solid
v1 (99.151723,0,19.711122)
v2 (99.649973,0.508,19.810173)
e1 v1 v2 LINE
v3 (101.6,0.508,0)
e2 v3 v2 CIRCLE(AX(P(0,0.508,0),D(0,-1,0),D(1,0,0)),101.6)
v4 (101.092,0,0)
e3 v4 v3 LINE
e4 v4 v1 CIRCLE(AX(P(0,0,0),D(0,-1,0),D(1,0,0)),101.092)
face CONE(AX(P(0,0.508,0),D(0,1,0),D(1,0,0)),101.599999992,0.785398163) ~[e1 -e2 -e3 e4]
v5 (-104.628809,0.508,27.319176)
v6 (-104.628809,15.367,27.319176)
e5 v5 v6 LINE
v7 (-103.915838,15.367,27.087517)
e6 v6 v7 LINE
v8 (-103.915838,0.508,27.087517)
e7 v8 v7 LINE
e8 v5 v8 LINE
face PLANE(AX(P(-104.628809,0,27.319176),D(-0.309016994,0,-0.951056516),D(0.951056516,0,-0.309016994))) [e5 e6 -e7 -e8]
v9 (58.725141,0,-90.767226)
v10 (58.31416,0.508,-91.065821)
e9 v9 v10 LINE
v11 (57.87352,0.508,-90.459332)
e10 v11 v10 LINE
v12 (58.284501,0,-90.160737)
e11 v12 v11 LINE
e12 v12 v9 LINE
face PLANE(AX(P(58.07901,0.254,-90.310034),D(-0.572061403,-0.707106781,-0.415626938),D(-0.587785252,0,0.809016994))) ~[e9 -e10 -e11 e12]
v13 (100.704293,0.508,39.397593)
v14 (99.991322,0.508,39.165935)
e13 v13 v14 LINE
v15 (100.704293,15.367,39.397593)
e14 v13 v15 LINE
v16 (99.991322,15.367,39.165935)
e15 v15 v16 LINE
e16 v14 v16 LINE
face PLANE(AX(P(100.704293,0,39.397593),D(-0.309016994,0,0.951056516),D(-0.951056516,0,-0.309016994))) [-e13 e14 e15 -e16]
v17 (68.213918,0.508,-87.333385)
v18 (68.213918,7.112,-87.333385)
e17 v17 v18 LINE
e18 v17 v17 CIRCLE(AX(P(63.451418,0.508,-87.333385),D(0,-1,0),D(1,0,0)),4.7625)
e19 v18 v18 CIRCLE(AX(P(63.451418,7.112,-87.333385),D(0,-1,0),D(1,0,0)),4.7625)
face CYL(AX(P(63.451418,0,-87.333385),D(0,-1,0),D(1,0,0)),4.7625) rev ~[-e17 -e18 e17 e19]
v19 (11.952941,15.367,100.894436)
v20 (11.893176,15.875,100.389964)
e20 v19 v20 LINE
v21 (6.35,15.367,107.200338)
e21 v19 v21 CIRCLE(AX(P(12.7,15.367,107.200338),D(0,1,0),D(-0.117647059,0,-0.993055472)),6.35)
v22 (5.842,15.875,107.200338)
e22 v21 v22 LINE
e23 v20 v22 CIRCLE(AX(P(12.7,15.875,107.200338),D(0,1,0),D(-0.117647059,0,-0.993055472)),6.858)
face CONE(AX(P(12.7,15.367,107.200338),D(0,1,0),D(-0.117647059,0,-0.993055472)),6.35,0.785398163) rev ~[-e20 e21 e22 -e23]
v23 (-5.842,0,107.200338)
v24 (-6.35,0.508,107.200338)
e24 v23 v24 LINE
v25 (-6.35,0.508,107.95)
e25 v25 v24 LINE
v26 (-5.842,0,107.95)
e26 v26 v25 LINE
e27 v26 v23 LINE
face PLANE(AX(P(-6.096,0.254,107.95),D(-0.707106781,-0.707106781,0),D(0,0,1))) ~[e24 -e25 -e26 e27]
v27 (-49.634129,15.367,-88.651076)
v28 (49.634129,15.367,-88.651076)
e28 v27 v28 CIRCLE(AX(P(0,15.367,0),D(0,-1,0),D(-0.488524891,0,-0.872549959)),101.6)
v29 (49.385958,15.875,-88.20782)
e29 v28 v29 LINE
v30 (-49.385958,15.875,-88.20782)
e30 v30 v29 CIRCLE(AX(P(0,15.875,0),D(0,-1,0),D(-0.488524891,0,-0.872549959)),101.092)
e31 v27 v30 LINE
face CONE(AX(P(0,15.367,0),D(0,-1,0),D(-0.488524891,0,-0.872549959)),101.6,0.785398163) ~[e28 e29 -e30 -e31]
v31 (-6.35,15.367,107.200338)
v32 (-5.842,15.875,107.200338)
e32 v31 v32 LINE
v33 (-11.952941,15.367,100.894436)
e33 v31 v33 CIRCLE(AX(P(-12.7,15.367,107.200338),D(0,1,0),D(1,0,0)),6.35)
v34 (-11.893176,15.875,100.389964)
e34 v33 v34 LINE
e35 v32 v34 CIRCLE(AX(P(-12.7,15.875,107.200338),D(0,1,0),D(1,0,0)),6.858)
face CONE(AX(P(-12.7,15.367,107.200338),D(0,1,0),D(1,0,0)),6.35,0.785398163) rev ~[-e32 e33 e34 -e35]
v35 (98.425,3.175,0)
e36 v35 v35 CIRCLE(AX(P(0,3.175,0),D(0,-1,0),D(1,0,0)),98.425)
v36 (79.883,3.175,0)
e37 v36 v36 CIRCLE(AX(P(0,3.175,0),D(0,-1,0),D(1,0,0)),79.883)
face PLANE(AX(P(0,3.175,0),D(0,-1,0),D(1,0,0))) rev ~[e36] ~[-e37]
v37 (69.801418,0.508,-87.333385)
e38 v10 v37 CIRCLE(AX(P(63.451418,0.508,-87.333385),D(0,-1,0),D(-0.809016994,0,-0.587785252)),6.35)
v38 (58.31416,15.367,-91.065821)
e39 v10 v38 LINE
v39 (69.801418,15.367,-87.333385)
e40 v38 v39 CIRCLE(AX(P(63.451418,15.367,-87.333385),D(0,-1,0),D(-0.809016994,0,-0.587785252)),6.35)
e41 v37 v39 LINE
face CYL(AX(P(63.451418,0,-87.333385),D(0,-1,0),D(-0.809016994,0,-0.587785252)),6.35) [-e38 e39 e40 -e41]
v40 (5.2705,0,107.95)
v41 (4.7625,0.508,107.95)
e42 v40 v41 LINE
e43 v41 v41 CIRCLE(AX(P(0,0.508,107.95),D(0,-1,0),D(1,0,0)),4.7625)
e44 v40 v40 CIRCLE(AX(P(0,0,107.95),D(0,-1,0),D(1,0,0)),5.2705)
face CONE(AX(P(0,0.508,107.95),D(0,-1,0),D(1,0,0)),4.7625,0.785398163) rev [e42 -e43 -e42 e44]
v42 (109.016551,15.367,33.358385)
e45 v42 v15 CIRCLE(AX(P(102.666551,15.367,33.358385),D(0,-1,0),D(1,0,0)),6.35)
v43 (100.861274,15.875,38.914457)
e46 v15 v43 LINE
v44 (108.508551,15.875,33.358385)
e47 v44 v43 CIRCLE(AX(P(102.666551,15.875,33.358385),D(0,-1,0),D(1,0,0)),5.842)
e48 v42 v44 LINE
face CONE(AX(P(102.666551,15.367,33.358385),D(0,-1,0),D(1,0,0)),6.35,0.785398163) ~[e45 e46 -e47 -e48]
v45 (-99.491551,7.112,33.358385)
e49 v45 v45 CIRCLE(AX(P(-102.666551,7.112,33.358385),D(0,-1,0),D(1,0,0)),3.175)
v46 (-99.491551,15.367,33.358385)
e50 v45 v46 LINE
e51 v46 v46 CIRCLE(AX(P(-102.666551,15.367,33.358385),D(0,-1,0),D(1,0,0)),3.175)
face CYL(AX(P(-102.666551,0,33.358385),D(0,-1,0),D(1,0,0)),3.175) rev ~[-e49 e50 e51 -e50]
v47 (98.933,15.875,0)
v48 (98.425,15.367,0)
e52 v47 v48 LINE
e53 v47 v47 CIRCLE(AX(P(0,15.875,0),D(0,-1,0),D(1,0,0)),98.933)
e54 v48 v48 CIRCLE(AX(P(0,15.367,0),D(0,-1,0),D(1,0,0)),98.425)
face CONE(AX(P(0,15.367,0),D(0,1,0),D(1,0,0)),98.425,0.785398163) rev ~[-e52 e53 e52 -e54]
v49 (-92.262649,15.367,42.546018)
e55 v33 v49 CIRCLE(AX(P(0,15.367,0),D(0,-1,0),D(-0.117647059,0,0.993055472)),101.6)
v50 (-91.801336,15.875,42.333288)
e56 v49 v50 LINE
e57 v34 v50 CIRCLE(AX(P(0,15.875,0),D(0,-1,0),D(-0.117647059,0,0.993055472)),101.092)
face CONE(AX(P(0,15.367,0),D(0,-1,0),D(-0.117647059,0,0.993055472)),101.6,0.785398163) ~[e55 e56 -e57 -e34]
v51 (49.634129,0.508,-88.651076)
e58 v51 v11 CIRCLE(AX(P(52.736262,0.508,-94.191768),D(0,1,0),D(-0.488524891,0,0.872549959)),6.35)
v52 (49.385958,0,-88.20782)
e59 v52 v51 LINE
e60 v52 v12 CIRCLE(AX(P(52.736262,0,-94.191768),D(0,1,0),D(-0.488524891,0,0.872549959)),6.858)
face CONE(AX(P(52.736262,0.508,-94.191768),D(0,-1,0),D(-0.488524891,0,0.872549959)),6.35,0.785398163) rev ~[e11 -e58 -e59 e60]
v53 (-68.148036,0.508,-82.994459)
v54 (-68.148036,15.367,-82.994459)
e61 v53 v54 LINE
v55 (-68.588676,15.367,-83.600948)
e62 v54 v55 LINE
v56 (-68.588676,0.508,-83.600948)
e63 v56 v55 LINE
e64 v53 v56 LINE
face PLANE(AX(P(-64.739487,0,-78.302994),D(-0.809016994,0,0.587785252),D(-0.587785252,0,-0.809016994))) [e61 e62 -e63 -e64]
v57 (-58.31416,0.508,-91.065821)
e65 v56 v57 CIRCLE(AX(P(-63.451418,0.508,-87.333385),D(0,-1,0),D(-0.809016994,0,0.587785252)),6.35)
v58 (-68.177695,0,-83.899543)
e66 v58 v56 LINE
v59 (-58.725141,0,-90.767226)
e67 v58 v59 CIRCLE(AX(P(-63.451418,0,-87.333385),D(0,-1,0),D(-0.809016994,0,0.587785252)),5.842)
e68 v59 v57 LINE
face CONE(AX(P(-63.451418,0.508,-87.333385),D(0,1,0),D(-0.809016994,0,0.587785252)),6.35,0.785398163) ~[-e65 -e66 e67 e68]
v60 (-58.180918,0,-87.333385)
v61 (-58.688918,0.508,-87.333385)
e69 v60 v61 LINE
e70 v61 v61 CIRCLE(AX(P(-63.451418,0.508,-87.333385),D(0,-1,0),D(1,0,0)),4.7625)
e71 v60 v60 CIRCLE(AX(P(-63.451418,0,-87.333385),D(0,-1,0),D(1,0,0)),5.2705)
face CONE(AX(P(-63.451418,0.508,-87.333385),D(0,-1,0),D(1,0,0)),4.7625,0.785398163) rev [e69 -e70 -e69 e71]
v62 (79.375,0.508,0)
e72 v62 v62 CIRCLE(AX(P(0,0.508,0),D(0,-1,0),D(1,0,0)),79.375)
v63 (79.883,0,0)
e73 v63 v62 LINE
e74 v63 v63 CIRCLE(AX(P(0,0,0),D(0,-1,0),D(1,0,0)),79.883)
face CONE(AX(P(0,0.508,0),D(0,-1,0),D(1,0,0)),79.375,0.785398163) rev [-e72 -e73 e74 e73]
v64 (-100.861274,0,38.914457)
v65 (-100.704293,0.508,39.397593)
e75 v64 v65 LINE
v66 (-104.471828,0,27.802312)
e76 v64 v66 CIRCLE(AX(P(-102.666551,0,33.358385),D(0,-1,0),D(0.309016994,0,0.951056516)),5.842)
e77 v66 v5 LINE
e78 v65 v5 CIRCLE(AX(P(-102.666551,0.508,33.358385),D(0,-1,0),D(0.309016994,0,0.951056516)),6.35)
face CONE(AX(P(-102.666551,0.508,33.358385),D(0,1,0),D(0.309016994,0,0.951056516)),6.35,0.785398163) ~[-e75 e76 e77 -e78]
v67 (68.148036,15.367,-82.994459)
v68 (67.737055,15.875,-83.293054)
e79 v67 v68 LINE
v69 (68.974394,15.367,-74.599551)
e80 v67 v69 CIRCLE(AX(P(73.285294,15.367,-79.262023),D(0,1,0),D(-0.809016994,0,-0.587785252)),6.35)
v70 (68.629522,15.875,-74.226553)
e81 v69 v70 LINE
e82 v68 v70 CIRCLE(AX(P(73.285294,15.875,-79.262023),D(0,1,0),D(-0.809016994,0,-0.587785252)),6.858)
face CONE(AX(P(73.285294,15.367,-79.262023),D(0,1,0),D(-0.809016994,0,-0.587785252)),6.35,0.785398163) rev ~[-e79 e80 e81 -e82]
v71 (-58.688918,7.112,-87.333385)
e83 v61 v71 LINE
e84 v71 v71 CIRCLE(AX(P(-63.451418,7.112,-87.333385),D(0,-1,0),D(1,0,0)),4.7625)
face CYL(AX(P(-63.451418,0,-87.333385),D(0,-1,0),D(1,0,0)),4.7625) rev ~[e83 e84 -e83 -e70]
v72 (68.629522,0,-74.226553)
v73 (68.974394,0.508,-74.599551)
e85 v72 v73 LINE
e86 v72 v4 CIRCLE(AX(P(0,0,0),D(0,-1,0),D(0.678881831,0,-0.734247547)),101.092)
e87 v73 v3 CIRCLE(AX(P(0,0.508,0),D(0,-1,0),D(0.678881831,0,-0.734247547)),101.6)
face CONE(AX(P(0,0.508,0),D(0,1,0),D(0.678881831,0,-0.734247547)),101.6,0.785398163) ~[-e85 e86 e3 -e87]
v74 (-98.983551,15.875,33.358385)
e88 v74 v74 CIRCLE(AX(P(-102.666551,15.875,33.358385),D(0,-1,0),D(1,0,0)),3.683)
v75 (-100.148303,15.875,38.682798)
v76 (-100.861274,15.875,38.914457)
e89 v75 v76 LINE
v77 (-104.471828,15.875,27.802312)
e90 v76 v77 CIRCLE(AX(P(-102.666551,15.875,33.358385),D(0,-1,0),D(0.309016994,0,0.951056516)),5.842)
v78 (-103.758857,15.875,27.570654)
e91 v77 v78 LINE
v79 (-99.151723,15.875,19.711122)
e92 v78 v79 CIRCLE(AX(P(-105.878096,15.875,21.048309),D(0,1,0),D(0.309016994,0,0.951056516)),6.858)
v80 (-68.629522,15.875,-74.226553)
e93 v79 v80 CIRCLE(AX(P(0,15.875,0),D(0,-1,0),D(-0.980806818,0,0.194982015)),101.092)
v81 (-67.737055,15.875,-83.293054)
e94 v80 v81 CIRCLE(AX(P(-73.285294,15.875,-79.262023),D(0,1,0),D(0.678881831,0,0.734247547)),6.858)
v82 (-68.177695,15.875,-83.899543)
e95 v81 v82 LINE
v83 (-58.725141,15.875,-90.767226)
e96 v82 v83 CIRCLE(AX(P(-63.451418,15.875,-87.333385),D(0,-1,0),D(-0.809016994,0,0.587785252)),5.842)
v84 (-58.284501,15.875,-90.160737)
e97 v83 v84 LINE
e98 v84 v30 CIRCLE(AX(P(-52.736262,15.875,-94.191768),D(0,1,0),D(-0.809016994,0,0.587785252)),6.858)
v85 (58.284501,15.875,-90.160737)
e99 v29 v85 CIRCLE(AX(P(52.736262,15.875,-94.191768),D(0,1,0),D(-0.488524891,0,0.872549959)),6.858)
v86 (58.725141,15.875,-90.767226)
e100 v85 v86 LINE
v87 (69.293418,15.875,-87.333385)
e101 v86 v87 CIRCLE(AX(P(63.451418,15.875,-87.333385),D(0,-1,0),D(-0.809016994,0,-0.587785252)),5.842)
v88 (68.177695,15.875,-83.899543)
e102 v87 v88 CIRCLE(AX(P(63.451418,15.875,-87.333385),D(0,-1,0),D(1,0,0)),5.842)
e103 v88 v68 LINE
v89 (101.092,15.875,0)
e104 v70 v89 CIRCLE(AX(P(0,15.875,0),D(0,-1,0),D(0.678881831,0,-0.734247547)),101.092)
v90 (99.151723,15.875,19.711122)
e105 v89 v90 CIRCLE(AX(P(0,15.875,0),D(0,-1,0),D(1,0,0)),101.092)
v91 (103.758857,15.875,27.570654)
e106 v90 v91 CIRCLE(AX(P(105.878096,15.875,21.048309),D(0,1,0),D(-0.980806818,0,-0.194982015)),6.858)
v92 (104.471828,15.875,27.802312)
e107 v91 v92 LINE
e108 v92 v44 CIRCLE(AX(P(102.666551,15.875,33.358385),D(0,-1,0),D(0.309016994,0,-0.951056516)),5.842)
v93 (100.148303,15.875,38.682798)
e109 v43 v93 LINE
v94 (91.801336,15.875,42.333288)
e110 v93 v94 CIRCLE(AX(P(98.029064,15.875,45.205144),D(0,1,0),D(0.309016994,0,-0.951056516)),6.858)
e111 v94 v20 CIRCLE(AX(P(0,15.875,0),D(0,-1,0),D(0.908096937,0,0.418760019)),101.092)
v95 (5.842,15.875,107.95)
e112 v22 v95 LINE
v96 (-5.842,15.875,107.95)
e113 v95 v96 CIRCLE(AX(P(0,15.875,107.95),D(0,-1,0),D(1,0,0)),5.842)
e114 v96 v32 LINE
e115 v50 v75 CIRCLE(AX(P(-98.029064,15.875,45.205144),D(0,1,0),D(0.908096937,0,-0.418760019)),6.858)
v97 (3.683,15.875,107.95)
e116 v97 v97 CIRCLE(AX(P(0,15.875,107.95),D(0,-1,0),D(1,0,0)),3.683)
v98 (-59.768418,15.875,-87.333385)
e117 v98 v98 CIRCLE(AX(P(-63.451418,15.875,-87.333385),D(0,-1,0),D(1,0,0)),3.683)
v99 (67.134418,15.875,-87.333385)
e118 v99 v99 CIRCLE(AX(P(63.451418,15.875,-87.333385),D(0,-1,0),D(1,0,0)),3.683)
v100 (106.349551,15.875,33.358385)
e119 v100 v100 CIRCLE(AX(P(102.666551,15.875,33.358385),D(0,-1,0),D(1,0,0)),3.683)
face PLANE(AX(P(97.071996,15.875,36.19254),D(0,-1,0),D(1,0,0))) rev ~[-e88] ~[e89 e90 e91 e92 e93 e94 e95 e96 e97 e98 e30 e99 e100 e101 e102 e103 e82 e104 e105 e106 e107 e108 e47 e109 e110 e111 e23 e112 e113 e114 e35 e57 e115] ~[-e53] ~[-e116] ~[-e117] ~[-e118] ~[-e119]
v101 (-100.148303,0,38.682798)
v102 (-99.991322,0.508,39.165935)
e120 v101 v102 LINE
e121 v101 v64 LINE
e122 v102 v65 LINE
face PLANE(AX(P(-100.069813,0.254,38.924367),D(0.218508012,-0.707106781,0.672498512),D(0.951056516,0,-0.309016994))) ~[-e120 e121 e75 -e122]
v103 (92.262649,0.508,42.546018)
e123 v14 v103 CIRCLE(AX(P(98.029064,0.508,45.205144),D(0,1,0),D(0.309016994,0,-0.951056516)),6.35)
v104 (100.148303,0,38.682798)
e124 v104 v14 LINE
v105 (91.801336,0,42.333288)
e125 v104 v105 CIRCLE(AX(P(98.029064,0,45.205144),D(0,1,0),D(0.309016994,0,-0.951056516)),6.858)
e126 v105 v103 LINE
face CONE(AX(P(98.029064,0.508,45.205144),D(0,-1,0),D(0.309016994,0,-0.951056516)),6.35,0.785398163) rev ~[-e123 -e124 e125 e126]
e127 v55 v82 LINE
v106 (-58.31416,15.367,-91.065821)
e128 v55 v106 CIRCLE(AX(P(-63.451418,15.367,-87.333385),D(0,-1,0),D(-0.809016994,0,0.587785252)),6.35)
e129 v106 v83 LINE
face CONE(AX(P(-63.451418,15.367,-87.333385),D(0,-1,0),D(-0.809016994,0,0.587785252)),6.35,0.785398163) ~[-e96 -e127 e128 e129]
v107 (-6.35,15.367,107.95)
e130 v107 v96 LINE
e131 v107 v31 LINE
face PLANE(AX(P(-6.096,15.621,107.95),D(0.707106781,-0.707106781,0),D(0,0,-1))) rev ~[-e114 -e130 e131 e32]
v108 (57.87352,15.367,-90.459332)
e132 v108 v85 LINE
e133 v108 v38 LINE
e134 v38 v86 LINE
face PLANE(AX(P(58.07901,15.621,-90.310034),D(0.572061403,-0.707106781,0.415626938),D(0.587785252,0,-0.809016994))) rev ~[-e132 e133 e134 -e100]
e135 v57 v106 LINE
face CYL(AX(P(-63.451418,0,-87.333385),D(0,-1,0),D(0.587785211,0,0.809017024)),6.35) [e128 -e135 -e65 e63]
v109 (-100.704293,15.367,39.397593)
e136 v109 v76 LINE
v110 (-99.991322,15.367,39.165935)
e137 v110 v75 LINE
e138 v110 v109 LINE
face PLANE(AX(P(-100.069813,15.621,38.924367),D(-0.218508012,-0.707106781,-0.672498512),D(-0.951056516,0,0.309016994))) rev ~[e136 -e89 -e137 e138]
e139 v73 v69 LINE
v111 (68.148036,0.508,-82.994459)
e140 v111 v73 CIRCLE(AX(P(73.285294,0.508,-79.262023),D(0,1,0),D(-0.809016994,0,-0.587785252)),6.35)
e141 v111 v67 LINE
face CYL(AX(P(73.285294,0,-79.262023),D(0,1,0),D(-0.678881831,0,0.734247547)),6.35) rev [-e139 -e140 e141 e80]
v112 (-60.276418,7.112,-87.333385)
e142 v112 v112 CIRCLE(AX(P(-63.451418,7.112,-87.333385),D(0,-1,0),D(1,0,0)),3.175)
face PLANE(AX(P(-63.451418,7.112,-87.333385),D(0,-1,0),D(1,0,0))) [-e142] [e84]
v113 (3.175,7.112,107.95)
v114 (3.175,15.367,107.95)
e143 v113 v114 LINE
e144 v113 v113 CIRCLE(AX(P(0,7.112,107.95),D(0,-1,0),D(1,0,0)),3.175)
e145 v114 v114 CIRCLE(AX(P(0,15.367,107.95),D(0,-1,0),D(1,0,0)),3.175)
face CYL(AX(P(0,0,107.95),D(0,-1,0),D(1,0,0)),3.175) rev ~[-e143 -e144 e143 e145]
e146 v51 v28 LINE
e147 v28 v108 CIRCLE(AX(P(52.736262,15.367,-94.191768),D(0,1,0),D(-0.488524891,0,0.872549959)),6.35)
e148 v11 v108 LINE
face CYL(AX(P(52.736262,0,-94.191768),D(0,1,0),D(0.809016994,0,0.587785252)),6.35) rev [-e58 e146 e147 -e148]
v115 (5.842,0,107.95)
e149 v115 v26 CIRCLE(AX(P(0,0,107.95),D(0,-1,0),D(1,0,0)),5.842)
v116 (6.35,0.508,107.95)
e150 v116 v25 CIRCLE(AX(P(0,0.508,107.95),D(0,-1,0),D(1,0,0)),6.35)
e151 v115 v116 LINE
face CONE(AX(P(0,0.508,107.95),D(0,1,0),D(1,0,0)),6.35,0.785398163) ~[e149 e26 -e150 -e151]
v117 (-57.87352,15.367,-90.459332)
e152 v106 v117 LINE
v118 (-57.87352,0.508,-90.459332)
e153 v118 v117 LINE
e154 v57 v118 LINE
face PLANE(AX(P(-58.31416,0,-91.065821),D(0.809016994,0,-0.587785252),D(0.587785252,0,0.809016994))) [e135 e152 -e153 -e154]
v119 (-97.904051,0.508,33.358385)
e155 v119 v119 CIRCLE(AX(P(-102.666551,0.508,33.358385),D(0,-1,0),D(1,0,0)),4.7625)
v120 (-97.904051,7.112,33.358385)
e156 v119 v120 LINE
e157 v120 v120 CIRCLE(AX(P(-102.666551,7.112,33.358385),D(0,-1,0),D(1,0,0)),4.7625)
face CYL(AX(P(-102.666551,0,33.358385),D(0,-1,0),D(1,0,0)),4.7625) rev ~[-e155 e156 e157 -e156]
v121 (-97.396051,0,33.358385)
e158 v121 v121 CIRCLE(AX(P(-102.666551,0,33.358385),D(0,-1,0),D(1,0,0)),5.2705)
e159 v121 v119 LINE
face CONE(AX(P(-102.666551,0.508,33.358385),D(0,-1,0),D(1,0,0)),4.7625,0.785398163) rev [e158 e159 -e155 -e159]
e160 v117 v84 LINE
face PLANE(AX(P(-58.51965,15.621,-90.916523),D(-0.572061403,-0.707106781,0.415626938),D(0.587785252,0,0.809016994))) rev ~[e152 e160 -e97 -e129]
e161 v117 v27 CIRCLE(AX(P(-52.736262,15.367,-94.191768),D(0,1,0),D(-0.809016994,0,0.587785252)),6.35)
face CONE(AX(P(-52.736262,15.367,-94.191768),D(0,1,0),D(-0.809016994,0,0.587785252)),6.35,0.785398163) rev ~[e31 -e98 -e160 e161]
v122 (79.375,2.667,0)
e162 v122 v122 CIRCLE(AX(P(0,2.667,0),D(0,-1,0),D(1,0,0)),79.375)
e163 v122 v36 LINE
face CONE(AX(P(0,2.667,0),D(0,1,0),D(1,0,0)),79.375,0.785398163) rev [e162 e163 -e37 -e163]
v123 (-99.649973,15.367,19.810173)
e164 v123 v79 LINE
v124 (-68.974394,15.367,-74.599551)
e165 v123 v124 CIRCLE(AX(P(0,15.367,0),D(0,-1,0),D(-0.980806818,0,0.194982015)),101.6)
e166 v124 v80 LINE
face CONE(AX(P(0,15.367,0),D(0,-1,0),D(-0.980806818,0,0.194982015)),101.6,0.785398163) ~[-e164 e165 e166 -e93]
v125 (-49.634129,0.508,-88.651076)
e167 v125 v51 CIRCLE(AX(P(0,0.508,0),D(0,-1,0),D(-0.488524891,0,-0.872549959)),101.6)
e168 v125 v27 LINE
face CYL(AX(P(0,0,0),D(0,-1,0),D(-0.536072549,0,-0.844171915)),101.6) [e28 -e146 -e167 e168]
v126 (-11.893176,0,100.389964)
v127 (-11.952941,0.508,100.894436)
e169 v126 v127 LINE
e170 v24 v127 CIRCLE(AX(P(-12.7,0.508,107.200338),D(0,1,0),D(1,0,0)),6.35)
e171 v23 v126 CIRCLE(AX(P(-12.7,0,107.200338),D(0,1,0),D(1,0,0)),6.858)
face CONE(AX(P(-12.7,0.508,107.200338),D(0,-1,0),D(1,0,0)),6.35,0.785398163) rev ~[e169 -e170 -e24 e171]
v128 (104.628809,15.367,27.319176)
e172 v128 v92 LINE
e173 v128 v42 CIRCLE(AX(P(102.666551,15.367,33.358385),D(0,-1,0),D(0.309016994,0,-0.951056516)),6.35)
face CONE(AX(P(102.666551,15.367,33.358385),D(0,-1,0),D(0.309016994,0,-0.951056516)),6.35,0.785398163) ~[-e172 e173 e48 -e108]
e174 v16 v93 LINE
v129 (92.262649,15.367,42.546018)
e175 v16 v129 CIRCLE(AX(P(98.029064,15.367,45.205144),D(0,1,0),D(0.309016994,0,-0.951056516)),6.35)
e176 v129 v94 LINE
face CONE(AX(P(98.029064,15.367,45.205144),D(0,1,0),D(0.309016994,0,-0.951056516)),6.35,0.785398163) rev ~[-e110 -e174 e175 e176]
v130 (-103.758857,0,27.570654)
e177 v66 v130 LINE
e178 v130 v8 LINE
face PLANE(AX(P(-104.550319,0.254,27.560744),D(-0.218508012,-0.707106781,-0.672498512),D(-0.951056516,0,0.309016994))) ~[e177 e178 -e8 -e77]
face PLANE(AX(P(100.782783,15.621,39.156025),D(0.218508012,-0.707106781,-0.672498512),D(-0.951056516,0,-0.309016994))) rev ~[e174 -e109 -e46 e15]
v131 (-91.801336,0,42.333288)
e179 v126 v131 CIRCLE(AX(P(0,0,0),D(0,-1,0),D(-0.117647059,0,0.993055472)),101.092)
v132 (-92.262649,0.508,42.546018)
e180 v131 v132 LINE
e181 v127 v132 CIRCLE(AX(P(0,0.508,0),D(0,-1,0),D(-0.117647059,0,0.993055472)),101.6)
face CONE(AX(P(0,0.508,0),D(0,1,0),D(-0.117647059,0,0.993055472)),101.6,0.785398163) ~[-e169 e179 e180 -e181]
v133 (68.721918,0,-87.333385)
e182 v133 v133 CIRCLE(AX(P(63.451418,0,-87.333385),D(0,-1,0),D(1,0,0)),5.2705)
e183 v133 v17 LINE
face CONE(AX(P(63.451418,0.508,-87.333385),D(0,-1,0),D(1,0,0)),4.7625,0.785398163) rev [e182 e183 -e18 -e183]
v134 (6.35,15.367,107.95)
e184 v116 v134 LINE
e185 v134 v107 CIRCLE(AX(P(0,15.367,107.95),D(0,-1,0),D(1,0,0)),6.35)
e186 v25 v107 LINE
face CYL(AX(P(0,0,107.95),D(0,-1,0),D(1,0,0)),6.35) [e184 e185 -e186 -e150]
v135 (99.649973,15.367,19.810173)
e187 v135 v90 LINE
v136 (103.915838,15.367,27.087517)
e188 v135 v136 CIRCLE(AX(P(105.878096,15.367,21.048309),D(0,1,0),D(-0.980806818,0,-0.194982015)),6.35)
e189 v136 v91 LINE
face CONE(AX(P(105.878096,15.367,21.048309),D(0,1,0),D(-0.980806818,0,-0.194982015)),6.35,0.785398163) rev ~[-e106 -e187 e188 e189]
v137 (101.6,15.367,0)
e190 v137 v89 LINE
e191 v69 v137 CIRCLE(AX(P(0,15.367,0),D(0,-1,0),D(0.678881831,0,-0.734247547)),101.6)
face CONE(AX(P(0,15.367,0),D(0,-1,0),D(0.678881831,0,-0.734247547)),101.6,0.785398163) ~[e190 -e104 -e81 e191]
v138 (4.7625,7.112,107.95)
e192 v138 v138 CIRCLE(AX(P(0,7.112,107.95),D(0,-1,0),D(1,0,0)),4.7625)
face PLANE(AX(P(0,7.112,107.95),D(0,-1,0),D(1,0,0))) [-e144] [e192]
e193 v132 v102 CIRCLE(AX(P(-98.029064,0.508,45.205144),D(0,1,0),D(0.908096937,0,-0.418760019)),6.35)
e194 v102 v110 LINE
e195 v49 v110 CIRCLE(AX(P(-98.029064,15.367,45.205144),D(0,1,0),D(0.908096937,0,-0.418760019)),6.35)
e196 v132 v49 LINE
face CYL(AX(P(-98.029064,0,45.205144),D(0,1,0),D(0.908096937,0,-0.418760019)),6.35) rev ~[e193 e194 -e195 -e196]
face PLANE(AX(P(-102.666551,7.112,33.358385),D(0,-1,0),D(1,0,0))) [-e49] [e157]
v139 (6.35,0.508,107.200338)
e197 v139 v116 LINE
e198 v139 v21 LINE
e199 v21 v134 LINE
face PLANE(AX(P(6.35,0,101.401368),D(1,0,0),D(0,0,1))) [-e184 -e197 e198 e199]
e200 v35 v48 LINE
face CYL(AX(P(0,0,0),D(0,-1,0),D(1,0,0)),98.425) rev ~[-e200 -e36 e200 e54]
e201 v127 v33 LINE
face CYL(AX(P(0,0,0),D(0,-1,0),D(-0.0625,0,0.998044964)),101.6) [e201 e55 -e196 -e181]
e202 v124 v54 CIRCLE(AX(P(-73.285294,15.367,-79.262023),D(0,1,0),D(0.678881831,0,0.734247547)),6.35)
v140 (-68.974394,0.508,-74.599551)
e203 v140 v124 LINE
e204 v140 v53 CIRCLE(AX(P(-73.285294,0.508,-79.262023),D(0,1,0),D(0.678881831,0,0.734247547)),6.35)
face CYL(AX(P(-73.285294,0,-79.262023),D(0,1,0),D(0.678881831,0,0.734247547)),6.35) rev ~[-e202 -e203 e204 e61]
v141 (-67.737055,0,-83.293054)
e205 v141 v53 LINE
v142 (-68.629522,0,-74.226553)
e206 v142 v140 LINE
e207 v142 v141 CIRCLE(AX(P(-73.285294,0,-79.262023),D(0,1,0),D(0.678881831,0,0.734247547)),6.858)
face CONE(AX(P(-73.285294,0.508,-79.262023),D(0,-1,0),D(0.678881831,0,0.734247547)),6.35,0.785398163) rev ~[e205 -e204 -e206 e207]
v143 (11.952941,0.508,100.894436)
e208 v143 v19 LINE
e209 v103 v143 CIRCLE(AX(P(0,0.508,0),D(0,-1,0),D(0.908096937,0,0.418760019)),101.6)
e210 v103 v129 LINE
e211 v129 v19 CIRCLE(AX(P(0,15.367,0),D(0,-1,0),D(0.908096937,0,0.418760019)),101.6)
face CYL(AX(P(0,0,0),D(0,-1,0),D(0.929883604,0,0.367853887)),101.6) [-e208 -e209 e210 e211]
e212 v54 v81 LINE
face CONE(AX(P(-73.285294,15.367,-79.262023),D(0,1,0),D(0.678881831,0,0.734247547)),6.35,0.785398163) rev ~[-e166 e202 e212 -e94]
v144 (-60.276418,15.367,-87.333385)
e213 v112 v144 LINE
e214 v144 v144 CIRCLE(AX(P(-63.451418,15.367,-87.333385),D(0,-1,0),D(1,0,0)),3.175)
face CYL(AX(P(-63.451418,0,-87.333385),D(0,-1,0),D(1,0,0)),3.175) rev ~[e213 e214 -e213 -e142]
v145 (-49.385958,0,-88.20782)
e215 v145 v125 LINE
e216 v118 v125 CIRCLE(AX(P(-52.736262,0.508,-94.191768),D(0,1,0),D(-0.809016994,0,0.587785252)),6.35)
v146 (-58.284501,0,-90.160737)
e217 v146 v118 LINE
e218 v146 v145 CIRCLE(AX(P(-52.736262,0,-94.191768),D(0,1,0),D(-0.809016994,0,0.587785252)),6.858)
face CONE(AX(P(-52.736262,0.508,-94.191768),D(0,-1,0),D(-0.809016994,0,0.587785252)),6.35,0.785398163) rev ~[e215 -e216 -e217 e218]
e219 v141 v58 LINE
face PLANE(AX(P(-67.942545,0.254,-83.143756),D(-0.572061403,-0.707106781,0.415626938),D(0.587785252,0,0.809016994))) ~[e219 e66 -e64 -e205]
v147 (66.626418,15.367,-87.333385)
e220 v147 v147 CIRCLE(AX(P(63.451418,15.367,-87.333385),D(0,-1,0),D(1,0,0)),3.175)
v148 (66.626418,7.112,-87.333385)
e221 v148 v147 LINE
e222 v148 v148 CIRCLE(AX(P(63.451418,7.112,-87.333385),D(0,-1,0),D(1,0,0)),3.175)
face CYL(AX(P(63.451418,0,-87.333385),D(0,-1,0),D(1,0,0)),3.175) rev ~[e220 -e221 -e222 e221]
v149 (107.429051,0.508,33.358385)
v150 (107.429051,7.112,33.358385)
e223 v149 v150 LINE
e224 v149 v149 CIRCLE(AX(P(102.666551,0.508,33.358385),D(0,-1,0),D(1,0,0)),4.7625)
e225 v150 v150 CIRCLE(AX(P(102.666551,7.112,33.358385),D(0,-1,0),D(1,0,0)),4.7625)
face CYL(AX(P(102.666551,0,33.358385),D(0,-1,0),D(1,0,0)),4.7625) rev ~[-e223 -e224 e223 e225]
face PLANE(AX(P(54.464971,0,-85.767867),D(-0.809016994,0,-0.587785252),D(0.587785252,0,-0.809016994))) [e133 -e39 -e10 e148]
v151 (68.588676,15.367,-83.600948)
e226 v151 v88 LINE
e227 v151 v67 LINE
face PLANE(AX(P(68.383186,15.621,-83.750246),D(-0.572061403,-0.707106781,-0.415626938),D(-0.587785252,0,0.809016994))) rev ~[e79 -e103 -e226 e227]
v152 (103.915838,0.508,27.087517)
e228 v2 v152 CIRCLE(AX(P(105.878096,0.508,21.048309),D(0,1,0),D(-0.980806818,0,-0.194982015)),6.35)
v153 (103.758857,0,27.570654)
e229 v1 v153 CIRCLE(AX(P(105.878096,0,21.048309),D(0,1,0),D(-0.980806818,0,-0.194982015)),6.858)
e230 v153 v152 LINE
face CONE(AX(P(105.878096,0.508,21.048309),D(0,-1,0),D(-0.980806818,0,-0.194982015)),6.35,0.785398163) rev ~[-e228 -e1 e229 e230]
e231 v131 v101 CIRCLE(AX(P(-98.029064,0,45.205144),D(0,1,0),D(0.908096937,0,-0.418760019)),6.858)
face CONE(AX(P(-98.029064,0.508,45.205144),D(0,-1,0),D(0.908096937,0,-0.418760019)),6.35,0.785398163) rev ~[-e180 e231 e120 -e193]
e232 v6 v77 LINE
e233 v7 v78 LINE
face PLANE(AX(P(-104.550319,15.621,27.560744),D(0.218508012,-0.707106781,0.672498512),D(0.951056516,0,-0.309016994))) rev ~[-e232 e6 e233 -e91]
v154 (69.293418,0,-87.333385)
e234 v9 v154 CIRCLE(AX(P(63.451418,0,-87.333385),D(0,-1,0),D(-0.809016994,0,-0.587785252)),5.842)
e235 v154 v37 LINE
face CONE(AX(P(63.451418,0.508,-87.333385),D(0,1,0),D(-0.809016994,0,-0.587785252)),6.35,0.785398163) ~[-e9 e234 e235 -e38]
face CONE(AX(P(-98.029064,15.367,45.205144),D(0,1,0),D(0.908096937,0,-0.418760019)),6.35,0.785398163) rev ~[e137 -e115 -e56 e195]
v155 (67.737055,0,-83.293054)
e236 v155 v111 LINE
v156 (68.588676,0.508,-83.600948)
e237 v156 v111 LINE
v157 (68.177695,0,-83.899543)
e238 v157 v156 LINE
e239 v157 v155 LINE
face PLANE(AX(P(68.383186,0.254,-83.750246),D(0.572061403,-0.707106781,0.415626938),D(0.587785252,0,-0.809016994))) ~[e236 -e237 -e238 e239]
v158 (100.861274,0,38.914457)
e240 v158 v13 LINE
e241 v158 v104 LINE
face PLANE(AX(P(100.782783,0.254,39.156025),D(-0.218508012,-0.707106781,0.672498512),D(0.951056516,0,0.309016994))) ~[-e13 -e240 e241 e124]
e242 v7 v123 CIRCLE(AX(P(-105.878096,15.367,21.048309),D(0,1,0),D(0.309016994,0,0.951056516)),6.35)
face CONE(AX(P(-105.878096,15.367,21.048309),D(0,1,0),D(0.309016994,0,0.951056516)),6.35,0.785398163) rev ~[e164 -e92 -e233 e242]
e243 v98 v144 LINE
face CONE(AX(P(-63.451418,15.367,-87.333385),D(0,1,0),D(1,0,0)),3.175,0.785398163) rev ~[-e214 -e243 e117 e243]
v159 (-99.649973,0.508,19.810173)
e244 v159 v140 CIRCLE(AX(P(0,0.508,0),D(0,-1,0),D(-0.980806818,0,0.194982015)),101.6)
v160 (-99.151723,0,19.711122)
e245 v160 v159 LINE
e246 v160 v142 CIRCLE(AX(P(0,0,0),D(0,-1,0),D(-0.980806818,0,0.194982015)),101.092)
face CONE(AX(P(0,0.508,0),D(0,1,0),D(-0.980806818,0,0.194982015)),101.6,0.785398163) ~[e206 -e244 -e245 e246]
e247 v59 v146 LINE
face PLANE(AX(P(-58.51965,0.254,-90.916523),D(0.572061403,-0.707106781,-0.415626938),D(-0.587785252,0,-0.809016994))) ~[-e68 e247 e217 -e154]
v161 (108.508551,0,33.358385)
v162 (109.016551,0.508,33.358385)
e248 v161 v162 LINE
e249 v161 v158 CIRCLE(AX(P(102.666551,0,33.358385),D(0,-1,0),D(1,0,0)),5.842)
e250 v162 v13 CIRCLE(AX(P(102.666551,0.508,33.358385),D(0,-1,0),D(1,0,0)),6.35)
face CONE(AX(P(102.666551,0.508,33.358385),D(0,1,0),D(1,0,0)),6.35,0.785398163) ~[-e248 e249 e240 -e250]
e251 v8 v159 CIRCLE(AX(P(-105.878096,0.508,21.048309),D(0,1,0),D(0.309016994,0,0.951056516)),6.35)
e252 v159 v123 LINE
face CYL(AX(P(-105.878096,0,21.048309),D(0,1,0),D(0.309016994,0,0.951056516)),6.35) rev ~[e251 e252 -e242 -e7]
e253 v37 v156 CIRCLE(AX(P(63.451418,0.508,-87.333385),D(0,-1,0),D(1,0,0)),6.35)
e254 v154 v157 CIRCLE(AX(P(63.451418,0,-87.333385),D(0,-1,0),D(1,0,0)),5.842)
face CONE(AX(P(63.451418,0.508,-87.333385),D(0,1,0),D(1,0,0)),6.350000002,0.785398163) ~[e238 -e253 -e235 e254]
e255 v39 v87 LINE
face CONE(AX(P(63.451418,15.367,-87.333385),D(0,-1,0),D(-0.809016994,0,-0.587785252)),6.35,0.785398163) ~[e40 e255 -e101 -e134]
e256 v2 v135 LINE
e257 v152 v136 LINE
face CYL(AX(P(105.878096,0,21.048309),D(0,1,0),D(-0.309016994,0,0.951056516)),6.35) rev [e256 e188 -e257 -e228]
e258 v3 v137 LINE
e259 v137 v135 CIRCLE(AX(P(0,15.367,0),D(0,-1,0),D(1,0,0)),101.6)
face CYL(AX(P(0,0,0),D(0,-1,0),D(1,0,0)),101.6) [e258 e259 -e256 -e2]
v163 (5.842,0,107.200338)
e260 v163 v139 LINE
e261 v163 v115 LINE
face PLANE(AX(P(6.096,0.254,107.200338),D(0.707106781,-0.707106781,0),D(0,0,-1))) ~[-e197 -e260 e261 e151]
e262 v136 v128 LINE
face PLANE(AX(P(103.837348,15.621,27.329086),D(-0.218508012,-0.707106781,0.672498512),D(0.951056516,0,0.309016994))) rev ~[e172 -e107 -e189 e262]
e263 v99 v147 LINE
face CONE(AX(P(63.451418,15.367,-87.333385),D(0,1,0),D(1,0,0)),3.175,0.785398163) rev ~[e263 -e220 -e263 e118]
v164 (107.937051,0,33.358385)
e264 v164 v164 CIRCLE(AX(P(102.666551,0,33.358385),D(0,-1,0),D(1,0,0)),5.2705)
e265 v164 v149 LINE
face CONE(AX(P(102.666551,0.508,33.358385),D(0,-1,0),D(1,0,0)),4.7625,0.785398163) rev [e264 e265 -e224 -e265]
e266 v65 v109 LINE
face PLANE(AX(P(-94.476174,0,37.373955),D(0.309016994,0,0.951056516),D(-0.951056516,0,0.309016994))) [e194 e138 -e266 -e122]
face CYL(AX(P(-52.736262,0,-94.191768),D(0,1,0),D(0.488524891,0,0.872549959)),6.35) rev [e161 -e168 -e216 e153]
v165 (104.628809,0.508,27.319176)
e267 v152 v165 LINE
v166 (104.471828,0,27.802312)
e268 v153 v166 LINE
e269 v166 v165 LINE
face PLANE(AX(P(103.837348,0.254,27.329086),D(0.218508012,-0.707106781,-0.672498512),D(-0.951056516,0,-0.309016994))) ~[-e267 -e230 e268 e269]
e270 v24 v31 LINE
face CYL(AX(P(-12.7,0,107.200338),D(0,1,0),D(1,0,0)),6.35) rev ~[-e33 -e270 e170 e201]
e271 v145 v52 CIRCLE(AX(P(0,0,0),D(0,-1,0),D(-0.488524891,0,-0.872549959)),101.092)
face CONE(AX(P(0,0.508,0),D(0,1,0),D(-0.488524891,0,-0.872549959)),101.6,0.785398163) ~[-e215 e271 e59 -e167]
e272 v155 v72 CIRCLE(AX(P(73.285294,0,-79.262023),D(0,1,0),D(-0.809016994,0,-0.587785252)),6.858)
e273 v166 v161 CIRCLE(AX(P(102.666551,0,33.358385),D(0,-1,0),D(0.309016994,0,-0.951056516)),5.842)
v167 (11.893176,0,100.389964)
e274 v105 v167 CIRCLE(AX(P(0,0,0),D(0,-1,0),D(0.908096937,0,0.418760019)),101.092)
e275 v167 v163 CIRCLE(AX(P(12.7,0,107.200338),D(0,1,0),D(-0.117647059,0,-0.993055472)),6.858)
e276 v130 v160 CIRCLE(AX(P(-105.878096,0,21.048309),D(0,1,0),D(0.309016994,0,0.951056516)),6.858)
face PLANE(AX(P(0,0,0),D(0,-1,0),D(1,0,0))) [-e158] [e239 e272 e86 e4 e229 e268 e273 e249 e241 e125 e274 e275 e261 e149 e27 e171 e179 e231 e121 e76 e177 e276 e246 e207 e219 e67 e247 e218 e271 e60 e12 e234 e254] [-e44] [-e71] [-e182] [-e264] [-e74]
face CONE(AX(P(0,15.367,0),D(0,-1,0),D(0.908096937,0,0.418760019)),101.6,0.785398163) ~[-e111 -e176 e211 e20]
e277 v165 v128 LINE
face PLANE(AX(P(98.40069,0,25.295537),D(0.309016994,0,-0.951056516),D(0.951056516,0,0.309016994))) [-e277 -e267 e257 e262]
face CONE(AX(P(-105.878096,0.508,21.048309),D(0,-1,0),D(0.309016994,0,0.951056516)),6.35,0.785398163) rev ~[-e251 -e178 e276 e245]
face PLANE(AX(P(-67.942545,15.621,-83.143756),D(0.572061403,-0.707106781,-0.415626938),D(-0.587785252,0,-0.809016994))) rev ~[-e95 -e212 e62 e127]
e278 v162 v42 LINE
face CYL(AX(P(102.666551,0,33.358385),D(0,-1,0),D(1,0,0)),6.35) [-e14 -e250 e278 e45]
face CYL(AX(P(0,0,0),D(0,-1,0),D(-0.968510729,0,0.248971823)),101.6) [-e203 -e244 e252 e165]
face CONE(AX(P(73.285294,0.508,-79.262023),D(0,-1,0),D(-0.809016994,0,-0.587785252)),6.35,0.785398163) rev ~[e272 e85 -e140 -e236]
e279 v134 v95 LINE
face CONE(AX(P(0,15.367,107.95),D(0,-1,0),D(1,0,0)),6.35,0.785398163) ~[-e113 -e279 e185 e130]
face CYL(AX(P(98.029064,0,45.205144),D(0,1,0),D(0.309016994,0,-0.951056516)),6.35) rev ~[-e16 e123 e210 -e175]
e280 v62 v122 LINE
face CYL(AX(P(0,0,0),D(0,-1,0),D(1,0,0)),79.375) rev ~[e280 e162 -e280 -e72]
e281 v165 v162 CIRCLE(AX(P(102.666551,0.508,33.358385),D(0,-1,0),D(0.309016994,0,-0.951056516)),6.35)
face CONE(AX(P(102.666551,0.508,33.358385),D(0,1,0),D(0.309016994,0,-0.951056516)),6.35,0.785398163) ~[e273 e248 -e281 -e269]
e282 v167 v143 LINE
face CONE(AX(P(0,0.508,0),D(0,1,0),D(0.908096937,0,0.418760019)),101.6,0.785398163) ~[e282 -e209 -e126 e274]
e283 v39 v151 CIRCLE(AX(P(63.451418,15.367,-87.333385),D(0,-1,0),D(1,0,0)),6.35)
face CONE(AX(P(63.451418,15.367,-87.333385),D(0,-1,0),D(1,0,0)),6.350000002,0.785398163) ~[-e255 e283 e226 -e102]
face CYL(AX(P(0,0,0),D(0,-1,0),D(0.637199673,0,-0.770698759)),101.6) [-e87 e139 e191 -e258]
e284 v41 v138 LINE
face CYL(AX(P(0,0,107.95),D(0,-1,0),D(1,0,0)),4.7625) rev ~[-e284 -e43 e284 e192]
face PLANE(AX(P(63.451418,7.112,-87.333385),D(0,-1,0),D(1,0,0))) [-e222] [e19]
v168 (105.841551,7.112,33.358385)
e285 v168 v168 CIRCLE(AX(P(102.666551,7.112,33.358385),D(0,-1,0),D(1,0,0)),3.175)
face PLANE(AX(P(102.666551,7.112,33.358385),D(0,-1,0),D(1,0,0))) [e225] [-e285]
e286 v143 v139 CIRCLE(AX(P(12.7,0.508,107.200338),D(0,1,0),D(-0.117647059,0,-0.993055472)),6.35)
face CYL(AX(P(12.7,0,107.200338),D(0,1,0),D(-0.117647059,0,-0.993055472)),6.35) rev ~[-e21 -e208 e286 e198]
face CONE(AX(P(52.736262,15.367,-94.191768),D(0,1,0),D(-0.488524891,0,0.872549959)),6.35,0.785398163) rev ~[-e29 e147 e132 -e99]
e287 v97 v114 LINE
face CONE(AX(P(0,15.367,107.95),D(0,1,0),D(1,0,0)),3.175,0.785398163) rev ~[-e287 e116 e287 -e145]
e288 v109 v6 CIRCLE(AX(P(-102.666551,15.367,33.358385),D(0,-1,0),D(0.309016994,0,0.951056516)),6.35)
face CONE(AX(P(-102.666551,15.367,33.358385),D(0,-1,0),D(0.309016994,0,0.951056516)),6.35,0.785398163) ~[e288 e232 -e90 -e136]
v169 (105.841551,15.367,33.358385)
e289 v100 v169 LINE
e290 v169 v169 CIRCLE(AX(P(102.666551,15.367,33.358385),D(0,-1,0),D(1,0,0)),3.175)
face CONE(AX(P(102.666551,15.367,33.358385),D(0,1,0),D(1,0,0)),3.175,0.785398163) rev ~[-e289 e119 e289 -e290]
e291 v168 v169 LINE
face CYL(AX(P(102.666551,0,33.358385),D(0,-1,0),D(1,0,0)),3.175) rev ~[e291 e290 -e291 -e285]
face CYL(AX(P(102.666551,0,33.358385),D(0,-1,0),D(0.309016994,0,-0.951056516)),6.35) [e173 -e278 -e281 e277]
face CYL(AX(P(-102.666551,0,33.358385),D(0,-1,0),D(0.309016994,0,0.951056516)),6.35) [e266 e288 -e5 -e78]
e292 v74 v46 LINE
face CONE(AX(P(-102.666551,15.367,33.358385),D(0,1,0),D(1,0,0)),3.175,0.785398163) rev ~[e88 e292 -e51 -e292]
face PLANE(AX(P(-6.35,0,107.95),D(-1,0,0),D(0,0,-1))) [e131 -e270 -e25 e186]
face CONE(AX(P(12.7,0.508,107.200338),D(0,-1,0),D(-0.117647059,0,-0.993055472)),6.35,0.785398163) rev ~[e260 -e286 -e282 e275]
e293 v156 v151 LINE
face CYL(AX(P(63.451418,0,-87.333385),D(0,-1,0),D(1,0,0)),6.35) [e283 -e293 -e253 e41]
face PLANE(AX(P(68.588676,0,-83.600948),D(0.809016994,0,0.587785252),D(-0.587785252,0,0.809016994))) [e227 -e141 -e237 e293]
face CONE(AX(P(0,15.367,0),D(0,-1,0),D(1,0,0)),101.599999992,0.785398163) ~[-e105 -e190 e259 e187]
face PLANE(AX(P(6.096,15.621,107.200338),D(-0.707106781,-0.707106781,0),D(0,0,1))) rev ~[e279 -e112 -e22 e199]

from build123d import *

# Parameters (mm, degrees)
F0_R     = 3.175
F0_R_2   = 98.425
F1_DEPTH = 15.875
F0_R_3   = 79.375
F2_DEPTH = 3.175
F3_R     = 6.35
F4_R     = 4.7625
F4_R_2   = 3.175
F5_DEPTH = 7.112
F6_SIZE  = 0.508


with BuildPart() as f1:
    # F0 (on Front) → F1 (new body)
    with BuildSketch(Plane.XZ):
        with BuildLine():
            ThreePointArc((94.476174201, 37.3739549465), (95.5984942164, 34.401859013), (96.6273421242, 31.3961264172))
            ThreePointArc((96.6273421242, 31.3961264172), (97.008659455, 36.2412241172), (100.7042930198, 39.3975934212))
            Line((100.7042930198, 39.3975934212), (94.476174201, 37.3739549465))
        make_face()
        with BuildLine():
            ThreePointArc((96.6273421242, 31.3961264172), (97.5617118991, 28.3596962488), (98.4006900295, 25.2955371896))
            Line((98.4006900295, 25.2955371896), (104.6288088483, 27.3191756643))
            ThreePointArc((104.6288088483, 27.3191756643), (99.7837113597, 27.7004930638), (96.6273421242, 31.3961264172))
        make_face()
        with BuildLine():
            ThreePointArc((100.7042930198, 39.3975934212), (97.008659455, 36.2412241172), (96.6273421242, 31.3961264172))
            ThreePointArc((96.6273421242, 31.3961264172), (99.7837113597, 27.7004930638), (104.6288088483, 27.3191756643))
            ThreePointArc((104.6288088483, 27.3191756643), (107.8038088483, 29.6259481907), (109.0165509341, 33.3583845428))
            ThreePointArc((109.0165509341, 33.3583845428), (106.3989872861, 38.4956424571), (100.7042930198, 39.3975934212))
        make_face()
        with Locations((102.6665509341, 33.3583845428)):
            Circle(F0_R, mode=Mode.SUBTRACT)
        with BuildLine():
            Line((68.5886758993, -83.6009481907), (64.7394867833, -78.302993883))
            ThreePointArc((64.7394867833, -78.302993883), (62.2596715502, -80.2888117888), (59.7189814811, -82.1961267388))
            ThreePointArc((59.7189814811, -82.1961267388), (64.4447767453, -81.0615635653), (68.5886758993, -83.6009481907))
        make_face()
        with BuildLine():
            ThreePointArc((68.5886758993, -83.6009481907), (64.4447767453, -81.0615635653), (59.7189814811, -82.1961267388))
            ThreePointArc((59.7189814811, -82.1961267388), (57.1795970075, -86.3400257824), (58.3141600707, -91.0658208948))
            ThreePointArc((58.3141600707, -91.0658208948), (65.4136758993, -93.3725934212), (69.801417985, -87.3333845428))
            ThreePointArc((69.801417985, -87.3333845428), (69.4906268634, -85.3711266285), (68.5886758993, -83.6009481907))
        make_face()
        with Locations((63.451417985, -87.3333845428)):
            Circle(F0_R, mode=Mode.SUBTRACT)
        with BuildLine():
            ThreePointArc((58.3141600707, -91.0658208948), (57.1795970075, -86.3400257824), (59.7189814811, -82.1961267388))
            ThreePointArc((59.7189814811, -82.1961267388), (57.119900909, -84.0230737366), (54.4649709547, -85.7678665871))
            Line((54.4649709547, -85.7678665871), (58.3141600707, -91.0658208948))
        make_face()
        with BuildLine():
            Line((-58.3141600707, -91.0658208948), (-54.4649709547, -85.7678665871))
            ThreePointArc((-54.4649709547, -85.7678665871), (-57.1199011195, -84.0230735935), (-59.7189818929, -82.1961264396))
            ThreePointArc((-59.7189818929, -82.1961264396), (-57.7935266293, -84.4505447262), (-57.101417985, -87.3333845428))
            ThreePointArc((-57.101417985, -87.3333845428), (-57.4122091065, -89.2956424571), (-58.3141600707, -91.0658208948))
        make_face()
        with BuildLine():
            ThreePointArc((-68.5886758993, -83.6009481907), (-64.4447769967, -81.0615636051), (-59.7189818929, -82.1961264396))
            ThreePointArc((-59.7189818929, -82.1961264396), (-62.2596717513, -80.2888116329), (-64.7394867833, -78.302993883))
            Line((-64.7394867833, -78.302993883), (-68.5886758993, -83.6009481907))
        make_face()
        with BuildLine():
            ThreePointArc((-57.101417985, -87.3333845428), (-57.7935266293, -84.4505447262), (-59.7189818929, -82.1961264396))
            ThreePointArc((-59.7189818929, -82.1961264396), (-64.4447769967, -81.0615636051), (-68.5886758993, -83.6009481907))
            ThreePointArc((-68.5886758993, -83.6009481907), (-67.183854337, -92.4706424571), (-58.3141600707, -91.0658208948))
            ThreePointArc((-58.3141600707, -91.0658208948), (-57.4122091065, -89.2956424571), (-57.101417985, -87.3333845428))
        make_face()
        with Locations((-63.451417985, -87.3333845428)):
            Circle(F0_R, mode=Mode.SUBTRACT)
        with BuildLine():
            ThreePointArc((-104.6288088483, 27.3191756643), (-99.7837113781, 27.7004930543), (-96.627342137, 31.3961263778))
            ThreePointArc((-96.627342137, 31.3961263778), (-96.3947299919, 32.3650255596), (-96.3165509341, 33.3583845428))
            ThreePointArc((-96.3165509341, 33.3583845428), (-97.5292930198, 37.0908208948), (-100.7042930198, 39.3975934212))
            ThreePointArc((-100.7042930198, 39.3975934212), (-108.7057598125, 35.3206424571), (-104.6288088483, 27.3191756643))
        make_face()
        with Locations((-102.6665509341, 33.3583845428)):
            Circle(F0_R, mode=Mode.SUBTRACT)
        with BuildLine():
            ThreePointArc((-96.627342137, 31.3961263778), (-95.5984942234, 34.4018589935), (-94.476174201, 37.3739549465))
            Line((-94.476174201, 37.3739549465), (-100.7042930198, 39.3975934212))
            ThreePointArc((-100.7042930198, 39.3975934212), (-97.5292930198, 37.0908208948), (-96.3165509341, 33.3583845428))
            ThreePointArc((-96.3165509341, 33.3583845428), (-96.3947299919, 32.3650255596), (-96.627342137, 31.3961263778))
        make_face()
        with BuildLine():
            Line((-104.6288088483, 27.3191756643), (-98.4006900295, 25.2955371896))
            ThreePointArc((-98.4006900295, 25.2955371896), (-97.5617119048, 28.3596962289), (-96.627342137, 31.3961263778))
            ThreePointArc((-96.627342137, 31.3961263778), (-99.7837113781, 27.7004930543), (-104.6288088483, 27.3191756643))
        make_face()
        with BuildLine():
            ThreePointArc((-6.35, 107.95), (-4.490128111, 103.4598719899), (-1.426e-07, 101.6))
            ThreePointArc((-1.426e-07, 101.6), (4.4901280101, 103.459871889), (6.35, 107.95))
            ThreePointArc((6.35, 107.95), (0, 114.3), (-6.35, 107.95))
        make_face()
        with Locations((0, 107.95)):
            Circle(F0_R, mode=Mode.SUBTRACT)
        with BuildLine():
            ThreePointArc((-1.426e-07, 101.6), (3.1765528772, 101.5503299444), (6.35, 101.401368334))
            Line((6.35, 101.401368334), (6.35, 107.95))
            ThreePointArc((6.35, 107.95), (4.4901280101, 103.459871889), (-1.426e-07, 101.6))
        make_face()
        with BuildLine():
            ThreePointArc((-6.35, 101.401368334), (-3.1765530198, 101.5503299399), (-1.426e-07, 101.6))
            ThreePointArc((-1.426e-07, 101.6), (-4.490128111, 103.4598719899), (-6.35, 107.95))
            Line((-6.35, 107.95), (-6.35, 101.401368334))
        make_face()
        with BuildLine():
            ThreePointArc((64.7394867833, -78.302993883), (91.9241313725, -43.2725556376), (101.6, 0))
            ThreePointArc((101.6, 0), (100.7969992287, 12.7485272286), (98.4006900295, 25.2955371896))
            ThreePointArc((98.4006900295, 25.2955371896), (97.5617118991, 28.3596962488), (96.6273421242, 31.3961264172))
            ThreePointArc((96.6273421242, 31.3961264172), (95.5984942164, 34.401859013), (94.476174201, 37.3739549465))
            ThreePointArc((94.476174201, 37.3739549465), (59.7189816329, 82.1961266285), (6.35, 101.401368334))
            ThreePointArc((6.35, 101.401368334), (3.1765528772, 101.5503299444), (-1.426e-07, 101.6))
            ThreePointArc((-1.426e-07, 101.6), (-3.1765530198, 101.5503299399), (-6.35, 101.401368334))
            ThreePointArc((-6.35, 101.401368334), (-59.7189816329, 82.1961266285), (-94.476174201, 37.3739549465))
            ThreePointArc((-94.476174201, 37.3739549465), (-95.5984942234, 34.4018589935), (-96.627342137, 31.3961263778))
            ThreePointArc((-96.627342137, 31.3961263778), (-97.5617119048, 28.3596962289), (-98.4006900295, 25.2955371896))
            ThreePointArc((-98.4006900295, 25.2955371896), (-96.6273420556, -31.3961266285), (-64.7394867833, -78.302993883))
            ThreePointArc((-64.7394867833, -78.302993883), (-62.2596717513, -80.2888116329), (-59.7189818929, -82.1961264396))
            ThreePointArc((-59.7189818929, -82.1961264396), (-57.1199011195, -84.0230735935), (-54.4649709547, -85.7678665871))
            ThreePointArc((-54.4649709547, -85.7678665871), (0, -101.6), (54.4649709547, -85.7678665871))
            ThreePointArc((54.4649709547, -85.7678665871), (57.119900909, -84.0230737366), (59.7189814811, -82.1961267388))
            ThreePointArc((59.7189814811, -82.1961267388), (62.2596715502, -80.2888117888), (64.7394867833, -78.302993883))
        make_face()
        Circle(F0_R_2, mode=Mode.SUBTRACT)
    extrude(amount=-F1_DEPTH)

    # F0 (on Front) → F2 (join)
    with BuildSketch(Plane.XZ):
        Circle(F0_R_2)
        Circle(F0_R_3, mode=Mode.SUBTRACT)
    extrude(amount=-F2_DEPTH)

    # F3
    f3_edges = [f1.edges().sort_by_distance(p)[0] for p in [
        (-98.40069, 7.9375, 25.295537),
        (-64.739487, 7.9375, -78.302994),
        (-54.464971, 7.9375, -85.767867),
        (54.464971, 7.9375, -85.767867),
        (64.739487, 7.9375, -78.302994),
        (94.476174, 7.9375, 37.373955),
        (6.35, 7.9375, 101.401368),
        (-6.35, 7.9375, 101.401368),
        (-94.476174, 7.9375, 37.373955),
        (98.40069, 7.9375, 25.295537),
    ]]
    fillet(f3_edges, radius=F3_R)

    # F4 (on face) → F5 (cut)
    with BuildSketch(Plane.XZ):
        with Locations((-63.451417985, -87.3333845428)):
            Circle(F4_R)
        with Locations((-63.451417985, -87.3333845428)):
            Circle(F4_R_2, mode=Mode.SUBTRACT)
        with Locations((-102.6665509341, 33.3583845428)):
            Circle(F4_R)
        with Locations((-102.6665509341, 33.3583845428)):
            Circle(F4_R_2, mode=Mode.SUBTRACT)
        with Locations((0, 107.95)):
            Circle(F4_R)
        with Locations((0, 107.95)):
            Circle(F4_R_2, mode=Mode.SUBTRACT)
        with Locations((102.6665509341, 33.3583845428)):
            Circle(F4_R)
        with Locations((102.6665509341, 33.3583845428)):
            Circle(F4_R_2, mode=Mode.SUBTRACT)
        with Locations((63.451417985, -87.3333845428)):
            Circle(F4_R)
        with Locations((63.451417985, -87.3333845428)):
            Circle(F4_R_2, mode=Mode.SUBTRACT)
    extrude(amount=-F5_DEPTH, mode=Mode.SUBTRACT)

    # F6
    f6_edges = [f1.edges().sort_by_distance(p)[0] for p in [
        (-59.718982, 0, 82.196127),
        (-96.627342, 15.875, -31.396127),
        (-79.375, 3.175, 0),
        (-79.375, 0, 0),
        (-107.429051, 0, 33.358385),
        (-4.7625, 0, 107.95),
        (-68.213918, 0, -87.333385),
        (97.904051, 0, 33.358385),
        (58.688918, 0, -87.333385),
        (-98.425, 15.875, 0),
        (-3.175, 15.875, 107.95),
        (-105.841551, 15.875, 33.358385),
        (-66.626418, 15.875, -87.333385),
        (60.276418, 15.875, -87.333385),
        (99.491551, 15.875, 33.358385),
    ]]
    chamfer(f6_edges, length=F6_SIZE)


solid = f1.part
